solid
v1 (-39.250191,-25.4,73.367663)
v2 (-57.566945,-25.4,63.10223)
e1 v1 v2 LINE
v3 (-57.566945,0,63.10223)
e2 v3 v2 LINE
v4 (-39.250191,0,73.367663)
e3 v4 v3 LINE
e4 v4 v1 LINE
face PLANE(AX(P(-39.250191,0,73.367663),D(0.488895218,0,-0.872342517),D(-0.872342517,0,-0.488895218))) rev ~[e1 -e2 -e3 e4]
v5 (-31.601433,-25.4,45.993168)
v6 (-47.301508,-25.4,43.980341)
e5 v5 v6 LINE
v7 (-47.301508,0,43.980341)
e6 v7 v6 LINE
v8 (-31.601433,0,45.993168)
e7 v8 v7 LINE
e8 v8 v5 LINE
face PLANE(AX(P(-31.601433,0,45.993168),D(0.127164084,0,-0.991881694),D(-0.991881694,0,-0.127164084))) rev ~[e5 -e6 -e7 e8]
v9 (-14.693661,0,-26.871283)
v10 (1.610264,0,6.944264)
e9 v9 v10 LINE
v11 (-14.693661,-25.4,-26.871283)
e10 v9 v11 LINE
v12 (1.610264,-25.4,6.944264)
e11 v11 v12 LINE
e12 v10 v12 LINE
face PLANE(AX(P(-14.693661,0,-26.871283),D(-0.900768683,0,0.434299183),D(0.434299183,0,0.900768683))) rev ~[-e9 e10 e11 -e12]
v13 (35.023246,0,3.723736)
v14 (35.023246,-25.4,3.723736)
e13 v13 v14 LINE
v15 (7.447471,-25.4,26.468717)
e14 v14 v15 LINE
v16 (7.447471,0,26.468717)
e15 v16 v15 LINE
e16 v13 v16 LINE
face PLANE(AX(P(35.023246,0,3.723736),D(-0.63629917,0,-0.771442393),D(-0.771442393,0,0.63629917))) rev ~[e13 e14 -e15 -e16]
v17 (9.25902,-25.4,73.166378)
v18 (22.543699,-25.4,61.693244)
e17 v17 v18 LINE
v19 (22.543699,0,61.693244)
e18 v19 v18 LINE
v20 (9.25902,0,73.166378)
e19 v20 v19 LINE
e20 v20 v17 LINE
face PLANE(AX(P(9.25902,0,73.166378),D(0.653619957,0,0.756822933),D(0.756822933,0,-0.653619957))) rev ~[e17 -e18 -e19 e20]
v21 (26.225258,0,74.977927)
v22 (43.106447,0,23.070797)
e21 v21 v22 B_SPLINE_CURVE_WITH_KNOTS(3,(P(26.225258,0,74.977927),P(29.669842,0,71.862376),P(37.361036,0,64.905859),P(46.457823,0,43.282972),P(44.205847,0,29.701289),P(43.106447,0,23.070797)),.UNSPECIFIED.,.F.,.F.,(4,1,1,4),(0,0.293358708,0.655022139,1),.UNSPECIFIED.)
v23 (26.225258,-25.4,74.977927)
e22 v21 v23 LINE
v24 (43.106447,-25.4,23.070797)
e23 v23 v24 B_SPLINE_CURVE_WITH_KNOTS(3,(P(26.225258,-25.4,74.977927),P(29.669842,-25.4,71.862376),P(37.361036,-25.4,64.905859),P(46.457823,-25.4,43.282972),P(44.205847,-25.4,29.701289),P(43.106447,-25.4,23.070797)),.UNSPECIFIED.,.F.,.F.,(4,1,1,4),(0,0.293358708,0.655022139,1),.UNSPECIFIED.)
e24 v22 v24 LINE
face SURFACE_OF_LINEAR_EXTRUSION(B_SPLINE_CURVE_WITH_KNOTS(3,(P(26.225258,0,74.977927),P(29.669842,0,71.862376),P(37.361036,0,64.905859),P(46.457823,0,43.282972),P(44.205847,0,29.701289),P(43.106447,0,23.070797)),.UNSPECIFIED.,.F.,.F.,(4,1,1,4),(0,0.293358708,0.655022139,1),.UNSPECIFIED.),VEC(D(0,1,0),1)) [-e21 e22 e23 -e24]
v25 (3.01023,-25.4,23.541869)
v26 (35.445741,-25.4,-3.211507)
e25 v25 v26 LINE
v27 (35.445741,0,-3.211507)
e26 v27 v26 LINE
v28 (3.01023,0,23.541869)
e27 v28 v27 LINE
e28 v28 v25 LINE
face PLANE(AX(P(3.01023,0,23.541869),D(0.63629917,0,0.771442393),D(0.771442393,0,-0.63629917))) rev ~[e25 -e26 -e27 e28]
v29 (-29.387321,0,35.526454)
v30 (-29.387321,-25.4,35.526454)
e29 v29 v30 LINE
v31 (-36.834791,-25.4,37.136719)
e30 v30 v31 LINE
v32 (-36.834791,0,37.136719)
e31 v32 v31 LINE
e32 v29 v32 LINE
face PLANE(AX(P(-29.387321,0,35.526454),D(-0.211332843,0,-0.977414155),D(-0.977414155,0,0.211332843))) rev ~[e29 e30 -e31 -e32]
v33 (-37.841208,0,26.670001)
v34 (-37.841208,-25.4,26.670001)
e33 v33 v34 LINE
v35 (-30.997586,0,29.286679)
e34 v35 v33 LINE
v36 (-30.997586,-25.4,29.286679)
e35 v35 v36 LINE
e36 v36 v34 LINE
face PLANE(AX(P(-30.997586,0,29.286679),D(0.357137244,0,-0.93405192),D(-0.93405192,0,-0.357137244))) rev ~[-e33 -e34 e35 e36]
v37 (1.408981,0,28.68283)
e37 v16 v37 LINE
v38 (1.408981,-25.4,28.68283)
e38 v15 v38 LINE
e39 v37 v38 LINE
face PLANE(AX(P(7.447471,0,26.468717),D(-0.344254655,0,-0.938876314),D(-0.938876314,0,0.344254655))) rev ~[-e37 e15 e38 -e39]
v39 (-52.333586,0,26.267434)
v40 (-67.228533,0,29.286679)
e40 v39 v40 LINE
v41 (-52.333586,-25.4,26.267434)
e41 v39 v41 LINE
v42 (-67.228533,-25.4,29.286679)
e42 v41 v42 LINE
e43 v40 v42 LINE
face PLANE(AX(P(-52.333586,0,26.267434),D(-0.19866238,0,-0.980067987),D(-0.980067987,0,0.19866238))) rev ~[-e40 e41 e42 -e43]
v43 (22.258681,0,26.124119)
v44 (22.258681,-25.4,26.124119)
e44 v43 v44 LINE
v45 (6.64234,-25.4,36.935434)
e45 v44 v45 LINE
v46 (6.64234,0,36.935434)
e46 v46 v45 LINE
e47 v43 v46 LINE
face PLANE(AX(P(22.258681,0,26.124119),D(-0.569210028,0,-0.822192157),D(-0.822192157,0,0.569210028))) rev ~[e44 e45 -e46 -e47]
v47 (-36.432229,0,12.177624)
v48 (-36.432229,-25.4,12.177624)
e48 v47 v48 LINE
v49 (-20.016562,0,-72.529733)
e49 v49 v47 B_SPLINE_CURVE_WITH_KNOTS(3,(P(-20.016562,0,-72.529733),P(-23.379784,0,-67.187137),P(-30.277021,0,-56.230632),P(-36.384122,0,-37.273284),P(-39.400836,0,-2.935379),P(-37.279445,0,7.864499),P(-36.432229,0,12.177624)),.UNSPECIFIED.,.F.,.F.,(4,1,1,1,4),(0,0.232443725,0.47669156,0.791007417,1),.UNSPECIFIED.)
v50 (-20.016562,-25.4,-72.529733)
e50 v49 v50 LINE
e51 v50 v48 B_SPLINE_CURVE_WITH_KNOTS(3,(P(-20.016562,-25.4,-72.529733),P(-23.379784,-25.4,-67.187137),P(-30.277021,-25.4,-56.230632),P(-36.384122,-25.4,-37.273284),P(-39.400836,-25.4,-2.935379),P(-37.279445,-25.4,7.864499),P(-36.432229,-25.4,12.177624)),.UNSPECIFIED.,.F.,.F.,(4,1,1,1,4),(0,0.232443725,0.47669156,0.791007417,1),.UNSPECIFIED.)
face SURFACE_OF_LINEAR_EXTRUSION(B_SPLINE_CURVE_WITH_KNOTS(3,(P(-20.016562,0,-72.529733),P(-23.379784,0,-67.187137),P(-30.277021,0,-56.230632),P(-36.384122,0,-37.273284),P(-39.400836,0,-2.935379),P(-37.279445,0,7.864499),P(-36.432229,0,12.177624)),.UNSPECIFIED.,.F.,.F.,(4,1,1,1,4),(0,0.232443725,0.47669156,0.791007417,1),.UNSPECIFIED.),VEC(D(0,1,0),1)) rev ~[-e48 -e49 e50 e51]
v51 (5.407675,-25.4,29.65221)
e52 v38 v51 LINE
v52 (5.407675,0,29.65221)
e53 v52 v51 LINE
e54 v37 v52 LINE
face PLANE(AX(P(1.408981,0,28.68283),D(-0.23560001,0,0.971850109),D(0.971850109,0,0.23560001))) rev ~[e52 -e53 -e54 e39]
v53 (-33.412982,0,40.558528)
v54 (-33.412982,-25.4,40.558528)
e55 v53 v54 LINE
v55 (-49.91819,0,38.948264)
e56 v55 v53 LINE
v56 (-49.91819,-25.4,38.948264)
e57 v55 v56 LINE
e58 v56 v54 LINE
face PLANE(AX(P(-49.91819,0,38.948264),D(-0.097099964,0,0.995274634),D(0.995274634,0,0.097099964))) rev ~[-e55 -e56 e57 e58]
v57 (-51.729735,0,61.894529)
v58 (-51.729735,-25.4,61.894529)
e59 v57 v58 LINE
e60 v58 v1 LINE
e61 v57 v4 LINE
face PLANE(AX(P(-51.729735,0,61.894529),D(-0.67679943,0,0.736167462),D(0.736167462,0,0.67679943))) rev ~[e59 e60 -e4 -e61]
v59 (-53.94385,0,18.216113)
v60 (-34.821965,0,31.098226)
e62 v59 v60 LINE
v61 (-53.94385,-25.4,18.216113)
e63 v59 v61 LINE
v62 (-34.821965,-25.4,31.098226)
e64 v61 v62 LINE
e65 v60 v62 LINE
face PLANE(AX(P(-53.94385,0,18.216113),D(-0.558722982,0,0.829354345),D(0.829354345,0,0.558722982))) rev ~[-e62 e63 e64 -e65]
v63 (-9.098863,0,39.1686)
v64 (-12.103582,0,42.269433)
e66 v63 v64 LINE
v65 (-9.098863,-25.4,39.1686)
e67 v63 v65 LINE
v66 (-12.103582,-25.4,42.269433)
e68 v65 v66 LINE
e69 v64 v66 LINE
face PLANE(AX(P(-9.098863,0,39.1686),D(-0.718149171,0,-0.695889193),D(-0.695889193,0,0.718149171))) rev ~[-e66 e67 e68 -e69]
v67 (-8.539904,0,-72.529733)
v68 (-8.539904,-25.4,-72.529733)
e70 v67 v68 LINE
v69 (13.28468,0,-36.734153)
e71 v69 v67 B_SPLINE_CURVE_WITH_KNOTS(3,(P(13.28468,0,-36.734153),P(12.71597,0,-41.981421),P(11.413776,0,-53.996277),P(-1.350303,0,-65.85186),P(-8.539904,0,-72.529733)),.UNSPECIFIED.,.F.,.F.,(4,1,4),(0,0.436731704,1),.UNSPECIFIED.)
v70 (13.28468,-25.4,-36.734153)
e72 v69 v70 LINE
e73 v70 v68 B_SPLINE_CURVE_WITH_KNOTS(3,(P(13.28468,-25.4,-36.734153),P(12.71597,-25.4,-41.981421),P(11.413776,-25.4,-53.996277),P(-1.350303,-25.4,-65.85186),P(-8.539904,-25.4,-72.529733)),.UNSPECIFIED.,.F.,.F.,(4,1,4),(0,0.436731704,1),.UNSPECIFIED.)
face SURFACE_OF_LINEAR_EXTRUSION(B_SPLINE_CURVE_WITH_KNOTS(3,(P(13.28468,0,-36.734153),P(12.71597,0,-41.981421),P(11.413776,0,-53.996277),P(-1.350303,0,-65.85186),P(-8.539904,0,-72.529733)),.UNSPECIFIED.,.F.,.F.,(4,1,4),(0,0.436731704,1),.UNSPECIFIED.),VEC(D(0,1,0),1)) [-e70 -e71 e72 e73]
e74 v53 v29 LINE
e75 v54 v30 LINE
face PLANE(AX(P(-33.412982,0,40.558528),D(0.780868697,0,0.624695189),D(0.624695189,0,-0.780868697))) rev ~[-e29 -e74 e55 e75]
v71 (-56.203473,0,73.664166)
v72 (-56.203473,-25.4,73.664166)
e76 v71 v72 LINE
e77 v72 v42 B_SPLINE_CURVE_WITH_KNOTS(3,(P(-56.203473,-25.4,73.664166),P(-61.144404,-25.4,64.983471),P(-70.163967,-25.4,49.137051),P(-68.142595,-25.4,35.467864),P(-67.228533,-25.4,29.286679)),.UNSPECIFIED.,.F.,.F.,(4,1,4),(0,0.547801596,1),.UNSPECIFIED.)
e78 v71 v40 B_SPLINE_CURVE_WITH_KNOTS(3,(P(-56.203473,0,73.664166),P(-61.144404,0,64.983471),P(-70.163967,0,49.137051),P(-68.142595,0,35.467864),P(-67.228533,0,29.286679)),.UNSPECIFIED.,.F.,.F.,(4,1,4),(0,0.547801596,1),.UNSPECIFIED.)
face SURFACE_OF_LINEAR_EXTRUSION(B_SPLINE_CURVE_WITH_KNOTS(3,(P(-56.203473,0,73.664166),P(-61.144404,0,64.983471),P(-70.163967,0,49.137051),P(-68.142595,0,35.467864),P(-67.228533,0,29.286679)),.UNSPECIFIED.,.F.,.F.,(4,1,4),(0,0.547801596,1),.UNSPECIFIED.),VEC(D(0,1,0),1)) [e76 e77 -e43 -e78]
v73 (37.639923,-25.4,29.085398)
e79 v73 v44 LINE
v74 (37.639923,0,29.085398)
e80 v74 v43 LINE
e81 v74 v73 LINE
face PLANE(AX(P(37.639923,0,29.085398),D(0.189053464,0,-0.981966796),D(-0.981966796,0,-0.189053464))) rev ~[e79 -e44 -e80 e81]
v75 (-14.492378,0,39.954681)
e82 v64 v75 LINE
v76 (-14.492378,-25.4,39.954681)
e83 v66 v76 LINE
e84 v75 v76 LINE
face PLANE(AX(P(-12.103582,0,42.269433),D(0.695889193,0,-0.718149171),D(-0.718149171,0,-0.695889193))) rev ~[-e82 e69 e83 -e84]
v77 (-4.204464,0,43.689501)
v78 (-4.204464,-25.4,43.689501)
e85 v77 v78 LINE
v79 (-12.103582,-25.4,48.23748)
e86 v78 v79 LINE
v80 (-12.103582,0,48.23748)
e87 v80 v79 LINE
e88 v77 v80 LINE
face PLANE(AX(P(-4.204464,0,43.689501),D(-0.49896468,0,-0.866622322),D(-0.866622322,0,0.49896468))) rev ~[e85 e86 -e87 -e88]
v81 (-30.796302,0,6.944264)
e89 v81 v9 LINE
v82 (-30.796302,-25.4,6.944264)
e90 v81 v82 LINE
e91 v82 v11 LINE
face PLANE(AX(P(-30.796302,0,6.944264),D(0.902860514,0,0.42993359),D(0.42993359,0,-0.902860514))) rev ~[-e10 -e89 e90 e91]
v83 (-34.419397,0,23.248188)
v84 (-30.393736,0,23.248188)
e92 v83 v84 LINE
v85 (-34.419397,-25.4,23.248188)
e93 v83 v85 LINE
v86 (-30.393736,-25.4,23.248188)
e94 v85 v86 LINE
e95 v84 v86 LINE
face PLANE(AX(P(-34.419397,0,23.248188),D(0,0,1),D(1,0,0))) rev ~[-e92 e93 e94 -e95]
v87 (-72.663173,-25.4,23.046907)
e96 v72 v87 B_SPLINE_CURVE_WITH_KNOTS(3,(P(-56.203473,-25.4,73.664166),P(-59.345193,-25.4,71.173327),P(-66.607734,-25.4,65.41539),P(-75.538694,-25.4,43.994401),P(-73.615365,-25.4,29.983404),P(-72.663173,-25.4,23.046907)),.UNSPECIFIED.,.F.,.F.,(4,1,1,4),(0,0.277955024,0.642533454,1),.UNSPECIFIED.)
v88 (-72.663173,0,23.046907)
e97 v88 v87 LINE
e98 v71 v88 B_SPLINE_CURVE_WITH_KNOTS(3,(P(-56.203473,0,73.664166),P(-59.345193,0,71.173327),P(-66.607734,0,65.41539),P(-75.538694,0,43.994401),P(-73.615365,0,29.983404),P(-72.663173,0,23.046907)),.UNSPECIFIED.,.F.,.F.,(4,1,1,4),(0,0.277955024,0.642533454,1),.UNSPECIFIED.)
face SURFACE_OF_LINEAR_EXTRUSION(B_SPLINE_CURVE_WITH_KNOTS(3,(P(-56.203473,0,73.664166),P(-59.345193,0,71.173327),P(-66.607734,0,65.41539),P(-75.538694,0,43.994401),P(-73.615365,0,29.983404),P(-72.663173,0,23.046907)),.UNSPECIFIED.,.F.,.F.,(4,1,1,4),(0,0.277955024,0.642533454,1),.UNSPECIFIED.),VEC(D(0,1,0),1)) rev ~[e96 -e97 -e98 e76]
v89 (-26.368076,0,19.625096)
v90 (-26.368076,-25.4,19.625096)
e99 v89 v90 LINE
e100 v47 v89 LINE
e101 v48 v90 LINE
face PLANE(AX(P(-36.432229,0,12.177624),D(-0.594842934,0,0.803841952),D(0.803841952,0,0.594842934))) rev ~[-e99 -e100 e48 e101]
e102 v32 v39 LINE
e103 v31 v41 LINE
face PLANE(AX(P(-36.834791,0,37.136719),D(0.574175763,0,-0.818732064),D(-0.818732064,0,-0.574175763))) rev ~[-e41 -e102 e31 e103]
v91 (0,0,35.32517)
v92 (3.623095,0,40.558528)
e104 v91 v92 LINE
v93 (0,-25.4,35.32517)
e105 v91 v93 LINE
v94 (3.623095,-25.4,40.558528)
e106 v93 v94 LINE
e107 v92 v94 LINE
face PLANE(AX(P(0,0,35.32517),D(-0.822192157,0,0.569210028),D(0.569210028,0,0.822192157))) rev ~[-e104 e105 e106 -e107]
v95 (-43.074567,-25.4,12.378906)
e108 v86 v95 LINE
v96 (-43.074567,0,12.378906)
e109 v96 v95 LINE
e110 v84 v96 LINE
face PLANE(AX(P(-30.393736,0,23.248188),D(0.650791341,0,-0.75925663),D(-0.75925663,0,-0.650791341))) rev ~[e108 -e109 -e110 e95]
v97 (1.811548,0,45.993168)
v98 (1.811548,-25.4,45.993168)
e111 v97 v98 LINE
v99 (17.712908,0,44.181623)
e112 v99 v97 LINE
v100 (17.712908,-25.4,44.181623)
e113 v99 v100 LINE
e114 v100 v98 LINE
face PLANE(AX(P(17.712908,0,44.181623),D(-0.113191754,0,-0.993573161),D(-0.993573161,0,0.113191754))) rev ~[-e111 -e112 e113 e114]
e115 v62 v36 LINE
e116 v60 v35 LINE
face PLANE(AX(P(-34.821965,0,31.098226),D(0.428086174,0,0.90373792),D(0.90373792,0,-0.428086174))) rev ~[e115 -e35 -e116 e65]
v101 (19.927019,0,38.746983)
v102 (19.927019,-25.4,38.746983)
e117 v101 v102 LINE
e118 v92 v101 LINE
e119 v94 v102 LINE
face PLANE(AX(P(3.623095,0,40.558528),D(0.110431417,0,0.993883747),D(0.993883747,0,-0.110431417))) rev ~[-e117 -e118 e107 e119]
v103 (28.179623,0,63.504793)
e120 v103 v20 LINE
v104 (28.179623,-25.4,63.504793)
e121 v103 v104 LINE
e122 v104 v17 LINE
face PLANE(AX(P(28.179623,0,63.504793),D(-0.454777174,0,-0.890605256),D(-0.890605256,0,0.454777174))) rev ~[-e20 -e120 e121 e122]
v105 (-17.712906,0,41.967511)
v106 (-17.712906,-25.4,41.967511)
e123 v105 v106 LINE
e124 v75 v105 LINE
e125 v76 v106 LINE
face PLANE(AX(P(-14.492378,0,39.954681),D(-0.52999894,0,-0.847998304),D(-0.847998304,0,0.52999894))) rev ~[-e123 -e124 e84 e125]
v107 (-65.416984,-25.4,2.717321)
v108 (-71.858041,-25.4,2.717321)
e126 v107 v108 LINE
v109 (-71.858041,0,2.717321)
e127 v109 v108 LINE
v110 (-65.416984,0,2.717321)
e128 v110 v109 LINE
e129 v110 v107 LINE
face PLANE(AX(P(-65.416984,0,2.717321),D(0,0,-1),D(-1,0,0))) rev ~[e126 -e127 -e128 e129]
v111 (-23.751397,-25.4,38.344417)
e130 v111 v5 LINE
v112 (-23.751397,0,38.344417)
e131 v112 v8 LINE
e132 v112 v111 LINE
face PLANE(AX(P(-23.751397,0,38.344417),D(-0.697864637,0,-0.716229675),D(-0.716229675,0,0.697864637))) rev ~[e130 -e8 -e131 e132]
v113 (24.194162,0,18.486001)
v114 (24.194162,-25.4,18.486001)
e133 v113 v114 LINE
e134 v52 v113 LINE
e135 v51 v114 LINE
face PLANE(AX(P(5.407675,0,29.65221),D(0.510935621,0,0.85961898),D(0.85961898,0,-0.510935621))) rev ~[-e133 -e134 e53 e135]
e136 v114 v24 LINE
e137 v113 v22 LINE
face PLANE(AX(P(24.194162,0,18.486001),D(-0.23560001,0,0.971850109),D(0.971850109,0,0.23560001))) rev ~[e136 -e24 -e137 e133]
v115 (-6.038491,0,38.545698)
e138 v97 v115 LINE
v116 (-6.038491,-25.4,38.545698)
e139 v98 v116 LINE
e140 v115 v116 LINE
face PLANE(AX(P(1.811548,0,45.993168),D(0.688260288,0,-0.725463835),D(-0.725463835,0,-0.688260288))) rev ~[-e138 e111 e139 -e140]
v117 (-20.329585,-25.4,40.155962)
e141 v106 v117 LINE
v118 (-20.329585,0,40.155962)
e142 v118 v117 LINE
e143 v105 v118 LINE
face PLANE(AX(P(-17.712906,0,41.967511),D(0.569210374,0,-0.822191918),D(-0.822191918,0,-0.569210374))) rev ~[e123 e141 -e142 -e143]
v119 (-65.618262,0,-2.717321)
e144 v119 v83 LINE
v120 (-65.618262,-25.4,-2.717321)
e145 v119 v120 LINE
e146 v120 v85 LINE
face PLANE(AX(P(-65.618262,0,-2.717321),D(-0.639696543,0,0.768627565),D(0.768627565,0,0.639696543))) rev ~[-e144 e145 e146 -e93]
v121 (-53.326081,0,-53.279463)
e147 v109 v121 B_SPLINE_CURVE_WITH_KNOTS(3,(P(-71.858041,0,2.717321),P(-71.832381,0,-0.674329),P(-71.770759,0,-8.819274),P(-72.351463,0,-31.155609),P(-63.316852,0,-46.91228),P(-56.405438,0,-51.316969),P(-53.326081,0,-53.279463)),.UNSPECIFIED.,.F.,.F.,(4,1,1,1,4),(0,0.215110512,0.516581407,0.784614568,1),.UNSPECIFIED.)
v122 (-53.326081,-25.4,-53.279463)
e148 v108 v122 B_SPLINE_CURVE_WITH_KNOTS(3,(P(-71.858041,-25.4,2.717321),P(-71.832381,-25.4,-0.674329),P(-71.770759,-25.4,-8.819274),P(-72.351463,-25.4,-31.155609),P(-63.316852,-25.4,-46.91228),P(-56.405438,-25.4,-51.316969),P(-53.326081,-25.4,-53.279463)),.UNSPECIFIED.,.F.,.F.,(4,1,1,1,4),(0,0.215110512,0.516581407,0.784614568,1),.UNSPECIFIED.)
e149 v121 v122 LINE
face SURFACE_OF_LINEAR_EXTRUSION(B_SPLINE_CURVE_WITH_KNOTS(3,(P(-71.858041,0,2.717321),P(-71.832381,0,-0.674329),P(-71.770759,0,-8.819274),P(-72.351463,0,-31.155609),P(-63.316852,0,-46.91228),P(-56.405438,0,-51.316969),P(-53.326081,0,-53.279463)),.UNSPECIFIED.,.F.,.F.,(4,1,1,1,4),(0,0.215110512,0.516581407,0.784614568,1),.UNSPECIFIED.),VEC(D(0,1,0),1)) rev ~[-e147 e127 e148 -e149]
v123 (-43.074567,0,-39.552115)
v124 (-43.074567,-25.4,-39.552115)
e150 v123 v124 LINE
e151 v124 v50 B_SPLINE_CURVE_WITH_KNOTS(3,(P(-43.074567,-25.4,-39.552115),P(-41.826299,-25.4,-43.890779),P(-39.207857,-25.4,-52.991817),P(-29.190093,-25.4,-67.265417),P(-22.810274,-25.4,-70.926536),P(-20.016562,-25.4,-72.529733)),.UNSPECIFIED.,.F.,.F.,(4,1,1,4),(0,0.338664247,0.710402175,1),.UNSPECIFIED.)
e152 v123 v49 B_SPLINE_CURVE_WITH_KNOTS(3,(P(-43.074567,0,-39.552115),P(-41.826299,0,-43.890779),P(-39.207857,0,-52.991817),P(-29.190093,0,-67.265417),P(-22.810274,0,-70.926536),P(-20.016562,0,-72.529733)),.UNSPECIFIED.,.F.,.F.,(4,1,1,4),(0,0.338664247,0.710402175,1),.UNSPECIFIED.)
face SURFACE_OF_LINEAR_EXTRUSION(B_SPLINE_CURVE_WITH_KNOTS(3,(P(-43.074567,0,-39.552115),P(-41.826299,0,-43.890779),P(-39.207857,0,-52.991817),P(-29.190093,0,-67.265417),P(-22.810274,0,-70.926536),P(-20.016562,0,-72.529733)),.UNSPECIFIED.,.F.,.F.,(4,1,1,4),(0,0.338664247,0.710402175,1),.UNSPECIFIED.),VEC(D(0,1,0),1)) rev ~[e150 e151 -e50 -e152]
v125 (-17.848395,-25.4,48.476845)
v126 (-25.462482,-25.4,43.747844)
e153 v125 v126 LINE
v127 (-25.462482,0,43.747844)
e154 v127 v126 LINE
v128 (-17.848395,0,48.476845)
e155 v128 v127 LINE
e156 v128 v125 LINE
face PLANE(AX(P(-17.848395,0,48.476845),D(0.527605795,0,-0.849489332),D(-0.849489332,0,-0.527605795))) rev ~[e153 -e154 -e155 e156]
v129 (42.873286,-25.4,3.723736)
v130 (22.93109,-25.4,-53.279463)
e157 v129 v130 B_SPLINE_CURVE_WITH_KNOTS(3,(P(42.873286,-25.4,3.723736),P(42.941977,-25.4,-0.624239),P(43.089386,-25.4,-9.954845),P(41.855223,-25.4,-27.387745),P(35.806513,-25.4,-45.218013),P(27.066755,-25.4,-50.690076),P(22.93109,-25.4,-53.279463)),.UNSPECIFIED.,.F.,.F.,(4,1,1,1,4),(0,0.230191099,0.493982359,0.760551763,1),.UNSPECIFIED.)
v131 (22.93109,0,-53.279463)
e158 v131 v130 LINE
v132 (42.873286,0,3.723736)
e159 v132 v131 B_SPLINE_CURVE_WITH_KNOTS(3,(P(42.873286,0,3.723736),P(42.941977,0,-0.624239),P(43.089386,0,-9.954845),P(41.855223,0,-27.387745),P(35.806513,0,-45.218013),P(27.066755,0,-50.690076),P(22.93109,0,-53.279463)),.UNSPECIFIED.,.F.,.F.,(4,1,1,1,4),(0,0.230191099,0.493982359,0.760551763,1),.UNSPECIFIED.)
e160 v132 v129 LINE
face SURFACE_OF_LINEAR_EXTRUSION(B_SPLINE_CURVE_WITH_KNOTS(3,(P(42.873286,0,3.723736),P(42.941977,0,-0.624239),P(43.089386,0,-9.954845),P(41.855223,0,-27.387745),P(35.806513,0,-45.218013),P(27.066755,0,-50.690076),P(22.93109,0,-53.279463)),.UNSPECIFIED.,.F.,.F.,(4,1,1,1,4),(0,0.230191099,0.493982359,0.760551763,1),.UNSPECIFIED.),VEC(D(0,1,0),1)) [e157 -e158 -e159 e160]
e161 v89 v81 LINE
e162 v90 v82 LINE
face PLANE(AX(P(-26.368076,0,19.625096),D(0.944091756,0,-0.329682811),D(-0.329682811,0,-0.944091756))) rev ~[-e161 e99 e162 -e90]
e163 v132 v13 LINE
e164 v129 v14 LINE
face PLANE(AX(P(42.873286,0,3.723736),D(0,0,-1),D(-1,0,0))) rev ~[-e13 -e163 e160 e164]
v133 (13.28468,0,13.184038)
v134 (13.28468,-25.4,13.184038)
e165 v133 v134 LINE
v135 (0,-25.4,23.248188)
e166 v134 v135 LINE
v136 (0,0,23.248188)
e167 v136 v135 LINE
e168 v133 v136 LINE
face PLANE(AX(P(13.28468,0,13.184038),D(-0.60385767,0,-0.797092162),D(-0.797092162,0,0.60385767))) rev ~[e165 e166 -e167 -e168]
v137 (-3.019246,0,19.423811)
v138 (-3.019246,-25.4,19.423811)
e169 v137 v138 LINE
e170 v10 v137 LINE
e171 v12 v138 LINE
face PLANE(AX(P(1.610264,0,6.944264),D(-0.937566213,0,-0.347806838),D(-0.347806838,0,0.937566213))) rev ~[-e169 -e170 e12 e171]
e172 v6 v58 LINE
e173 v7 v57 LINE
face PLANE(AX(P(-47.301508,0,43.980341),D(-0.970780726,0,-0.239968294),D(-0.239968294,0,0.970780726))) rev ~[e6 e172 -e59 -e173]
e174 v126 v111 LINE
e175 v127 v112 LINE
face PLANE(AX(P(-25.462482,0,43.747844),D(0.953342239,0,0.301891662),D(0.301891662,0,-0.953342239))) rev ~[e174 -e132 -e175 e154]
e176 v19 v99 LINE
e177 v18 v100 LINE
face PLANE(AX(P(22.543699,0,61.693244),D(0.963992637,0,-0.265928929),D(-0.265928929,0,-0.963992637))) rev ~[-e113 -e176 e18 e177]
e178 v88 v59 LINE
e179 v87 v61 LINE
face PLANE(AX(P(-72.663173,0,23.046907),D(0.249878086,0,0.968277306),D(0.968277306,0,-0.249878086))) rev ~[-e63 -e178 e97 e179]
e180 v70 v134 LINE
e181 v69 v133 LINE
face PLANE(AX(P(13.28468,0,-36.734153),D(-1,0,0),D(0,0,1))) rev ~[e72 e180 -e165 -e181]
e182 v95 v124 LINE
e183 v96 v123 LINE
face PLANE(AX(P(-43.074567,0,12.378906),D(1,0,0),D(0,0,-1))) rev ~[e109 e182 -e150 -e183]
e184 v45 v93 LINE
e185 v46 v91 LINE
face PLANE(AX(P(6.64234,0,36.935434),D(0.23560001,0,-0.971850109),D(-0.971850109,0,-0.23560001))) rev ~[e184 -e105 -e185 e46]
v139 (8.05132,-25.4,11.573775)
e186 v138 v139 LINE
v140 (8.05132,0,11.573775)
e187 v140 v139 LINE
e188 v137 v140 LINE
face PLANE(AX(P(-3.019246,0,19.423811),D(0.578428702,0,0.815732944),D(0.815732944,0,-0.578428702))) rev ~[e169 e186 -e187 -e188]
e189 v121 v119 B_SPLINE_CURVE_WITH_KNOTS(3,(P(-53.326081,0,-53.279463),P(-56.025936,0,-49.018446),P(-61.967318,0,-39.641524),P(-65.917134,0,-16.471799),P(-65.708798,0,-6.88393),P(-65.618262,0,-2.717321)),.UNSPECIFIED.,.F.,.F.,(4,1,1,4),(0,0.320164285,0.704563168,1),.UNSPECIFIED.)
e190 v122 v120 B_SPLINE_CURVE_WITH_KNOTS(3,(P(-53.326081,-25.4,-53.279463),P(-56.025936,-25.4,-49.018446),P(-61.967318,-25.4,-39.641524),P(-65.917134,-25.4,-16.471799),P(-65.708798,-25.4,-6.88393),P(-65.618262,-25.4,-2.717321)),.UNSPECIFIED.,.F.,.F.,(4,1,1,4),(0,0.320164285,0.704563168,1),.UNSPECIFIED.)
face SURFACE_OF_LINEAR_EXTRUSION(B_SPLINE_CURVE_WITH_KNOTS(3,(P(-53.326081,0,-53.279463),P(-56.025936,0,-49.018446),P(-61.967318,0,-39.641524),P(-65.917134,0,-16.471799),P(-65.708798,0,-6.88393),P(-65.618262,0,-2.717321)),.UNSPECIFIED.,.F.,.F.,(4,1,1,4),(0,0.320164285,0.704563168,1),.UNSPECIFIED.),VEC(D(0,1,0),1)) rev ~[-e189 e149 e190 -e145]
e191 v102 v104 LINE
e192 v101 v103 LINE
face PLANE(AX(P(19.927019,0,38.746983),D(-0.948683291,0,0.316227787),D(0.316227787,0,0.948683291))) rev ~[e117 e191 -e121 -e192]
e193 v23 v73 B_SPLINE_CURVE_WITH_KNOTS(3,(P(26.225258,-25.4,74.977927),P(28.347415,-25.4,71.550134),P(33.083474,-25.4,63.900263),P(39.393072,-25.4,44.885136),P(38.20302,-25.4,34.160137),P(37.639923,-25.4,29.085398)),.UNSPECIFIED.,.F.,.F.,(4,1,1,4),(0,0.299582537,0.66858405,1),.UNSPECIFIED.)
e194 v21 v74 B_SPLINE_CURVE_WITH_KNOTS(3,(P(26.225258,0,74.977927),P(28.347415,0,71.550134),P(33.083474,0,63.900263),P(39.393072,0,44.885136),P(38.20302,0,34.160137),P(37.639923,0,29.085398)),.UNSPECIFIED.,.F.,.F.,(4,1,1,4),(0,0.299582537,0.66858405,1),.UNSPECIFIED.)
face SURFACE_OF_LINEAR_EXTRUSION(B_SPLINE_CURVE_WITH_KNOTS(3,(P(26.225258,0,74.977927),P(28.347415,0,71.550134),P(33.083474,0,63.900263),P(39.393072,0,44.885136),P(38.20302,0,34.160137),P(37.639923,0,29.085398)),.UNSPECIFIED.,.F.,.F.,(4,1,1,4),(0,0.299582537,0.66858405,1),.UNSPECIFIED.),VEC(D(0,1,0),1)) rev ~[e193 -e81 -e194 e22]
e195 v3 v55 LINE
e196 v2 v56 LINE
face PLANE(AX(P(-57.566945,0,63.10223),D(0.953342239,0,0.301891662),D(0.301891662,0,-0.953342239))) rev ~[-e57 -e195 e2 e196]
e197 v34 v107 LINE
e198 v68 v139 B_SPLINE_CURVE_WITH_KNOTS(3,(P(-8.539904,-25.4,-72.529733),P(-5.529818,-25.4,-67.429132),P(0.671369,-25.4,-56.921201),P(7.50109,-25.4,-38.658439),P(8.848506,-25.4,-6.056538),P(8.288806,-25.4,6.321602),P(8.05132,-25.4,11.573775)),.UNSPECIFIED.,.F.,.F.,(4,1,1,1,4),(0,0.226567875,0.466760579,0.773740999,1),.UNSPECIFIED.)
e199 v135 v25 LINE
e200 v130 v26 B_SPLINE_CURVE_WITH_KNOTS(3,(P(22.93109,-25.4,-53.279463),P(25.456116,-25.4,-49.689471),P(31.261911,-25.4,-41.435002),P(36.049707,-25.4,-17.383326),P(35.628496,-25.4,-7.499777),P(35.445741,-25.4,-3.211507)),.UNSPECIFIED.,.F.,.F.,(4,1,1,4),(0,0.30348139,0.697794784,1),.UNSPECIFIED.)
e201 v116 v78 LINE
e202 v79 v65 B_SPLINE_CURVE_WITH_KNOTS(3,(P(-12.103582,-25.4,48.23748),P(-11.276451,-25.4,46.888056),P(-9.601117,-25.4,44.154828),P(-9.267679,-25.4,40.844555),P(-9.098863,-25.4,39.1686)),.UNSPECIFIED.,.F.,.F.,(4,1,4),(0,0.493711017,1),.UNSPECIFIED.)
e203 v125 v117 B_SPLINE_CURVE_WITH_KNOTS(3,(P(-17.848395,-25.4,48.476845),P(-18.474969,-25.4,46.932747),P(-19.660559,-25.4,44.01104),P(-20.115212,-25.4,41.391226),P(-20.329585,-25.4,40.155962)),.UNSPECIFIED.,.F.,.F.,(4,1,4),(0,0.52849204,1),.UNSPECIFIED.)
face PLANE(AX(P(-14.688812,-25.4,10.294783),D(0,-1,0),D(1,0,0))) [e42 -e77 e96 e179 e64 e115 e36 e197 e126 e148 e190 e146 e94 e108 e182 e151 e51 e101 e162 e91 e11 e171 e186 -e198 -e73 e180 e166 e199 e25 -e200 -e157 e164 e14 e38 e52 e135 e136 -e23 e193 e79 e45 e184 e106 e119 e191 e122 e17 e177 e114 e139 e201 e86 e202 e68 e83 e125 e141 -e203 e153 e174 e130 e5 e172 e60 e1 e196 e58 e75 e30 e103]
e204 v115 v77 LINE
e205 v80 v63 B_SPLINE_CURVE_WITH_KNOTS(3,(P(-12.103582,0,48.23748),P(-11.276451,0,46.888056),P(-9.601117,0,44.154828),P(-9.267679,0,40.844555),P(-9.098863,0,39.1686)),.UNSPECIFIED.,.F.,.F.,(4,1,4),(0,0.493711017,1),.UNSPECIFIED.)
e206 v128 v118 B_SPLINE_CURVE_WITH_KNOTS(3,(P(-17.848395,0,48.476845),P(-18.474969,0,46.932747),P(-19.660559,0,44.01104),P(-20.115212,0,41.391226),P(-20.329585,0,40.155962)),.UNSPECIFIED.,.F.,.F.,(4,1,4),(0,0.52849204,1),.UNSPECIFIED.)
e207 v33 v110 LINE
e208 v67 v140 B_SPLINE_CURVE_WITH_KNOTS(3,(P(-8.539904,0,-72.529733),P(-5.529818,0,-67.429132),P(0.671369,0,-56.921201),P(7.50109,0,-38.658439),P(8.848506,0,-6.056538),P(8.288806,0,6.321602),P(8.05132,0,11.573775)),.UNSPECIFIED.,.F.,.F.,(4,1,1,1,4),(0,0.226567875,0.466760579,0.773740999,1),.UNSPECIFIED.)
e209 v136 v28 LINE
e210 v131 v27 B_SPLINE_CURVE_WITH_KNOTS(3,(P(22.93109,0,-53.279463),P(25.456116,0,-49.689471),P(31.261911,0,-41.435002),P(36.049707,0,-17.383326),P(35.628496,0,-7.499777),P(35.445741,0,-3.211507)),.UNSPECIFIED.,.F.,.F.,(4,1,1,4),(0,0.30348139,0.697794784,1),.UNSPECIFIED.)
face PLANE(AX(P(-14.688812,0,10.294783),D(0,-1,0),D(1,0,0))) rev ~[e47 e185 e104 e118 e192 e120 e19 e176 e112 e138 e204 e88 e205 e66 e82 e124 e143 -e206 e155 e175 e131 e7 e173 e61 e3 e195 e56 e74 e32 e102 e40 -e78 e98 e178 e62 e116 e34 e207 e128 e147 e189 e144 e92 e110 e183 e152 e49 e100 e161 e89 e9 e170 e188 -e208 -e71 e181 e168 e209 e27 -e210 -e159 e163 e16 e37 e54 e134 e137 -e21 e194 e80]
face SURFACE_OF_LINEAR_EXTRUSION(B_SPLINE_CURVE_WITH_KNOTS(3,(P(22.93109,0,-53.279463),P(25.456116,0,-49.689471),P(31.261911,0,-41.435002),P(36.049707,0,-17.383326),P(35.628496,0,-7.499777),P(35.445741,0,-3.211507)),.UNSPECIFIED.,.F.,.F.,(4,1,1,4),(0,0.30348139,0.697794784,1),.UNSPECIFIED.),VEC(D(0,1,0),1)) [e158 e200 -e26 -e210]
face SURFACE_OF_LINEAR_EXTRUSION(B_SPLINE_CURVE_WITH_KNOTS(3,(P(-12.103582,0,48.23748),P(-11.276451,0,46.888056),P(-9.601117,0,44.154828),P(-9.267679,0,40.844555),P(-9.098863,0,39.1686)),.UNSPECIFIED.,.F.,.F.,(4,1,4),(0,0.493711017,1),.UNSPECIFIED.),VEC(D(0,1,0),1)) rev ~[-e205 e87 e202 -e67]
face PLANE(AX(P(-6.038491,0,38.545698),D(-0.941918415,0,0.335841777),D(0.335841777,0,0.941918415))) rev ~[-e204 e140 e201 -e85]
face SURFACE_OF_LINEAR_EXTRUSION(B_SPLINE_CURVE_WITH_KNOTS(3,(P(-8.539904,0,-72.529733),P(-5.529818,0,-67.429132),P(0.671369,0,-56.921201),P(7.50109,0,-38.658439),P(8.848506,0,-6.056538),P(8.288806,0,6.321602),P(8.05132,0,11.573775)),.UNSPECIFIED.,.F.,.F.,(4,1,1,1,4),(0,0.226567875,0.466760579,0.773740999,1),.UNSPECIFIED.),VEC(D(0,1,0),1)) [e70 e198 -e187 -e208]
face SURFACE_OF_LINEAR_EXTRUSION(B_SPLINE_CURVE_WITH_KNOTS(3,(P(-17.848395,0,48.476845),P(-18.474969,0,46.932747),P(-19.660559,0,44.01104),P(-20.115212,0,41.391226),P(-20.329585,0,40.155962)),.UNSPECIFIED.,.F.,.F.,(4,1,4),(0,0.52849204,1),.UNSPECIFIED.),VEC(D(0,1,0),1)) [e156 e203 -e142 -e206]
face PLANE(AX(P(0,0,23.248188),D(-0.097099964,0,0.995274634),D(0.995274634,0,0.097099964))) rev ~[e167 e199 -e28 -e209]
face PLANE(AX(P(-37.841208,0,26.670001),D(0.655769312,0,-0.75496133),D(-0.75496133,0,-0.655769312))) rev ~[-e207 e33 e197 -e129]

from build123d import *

# Parameters (mm, degrees)
F1_DEPTH = 25.4


with BuildPart() as f1:
    # F0 (on Front) → F1 (new body)
    with BuildSketch(Plane.XZ):
        with BuildLine():
            Line((-36.4322289824, 12.1776238084), (-26.3680759817, 19.6250956506))
            Line((-26.3680759817, 19.6250956506), (-30.7963024825, 6.9442642853))
            Line((-30.7963024825, 6.9442642853), (-14.6936606616, -26.8712826073))
            Line((-14.6936606616, -26.8712826073), (1.6102636, 6.9442642853))
            Line((1.6102636, 6.9442642853), (-3.0192458071, 19.4238107651))
            Line((-3.0192458071, 19.4238107651), (8.0513199791, 11.5737747401))
            add(Edge.make_bspline(
                [(-8.539903909, -72.529733181), (-5.5298175025, -67.4291319873), (0.671369104, -56.9212011388), (7.5010896056, -38.6584394427), (8.8485062582, -6.0565384462), (8.2888064124, 6.3216018094), (8.0513199791, 11.5737747401)],
                knots=[0, 0, 0, 0, 0.2265678753, 0.466760579, 0.7737409987, 1, 1, 1, 1], degree=3))
            add(Edge.make_bspline(
                [(13.2846795022, -36.7341525853), (12.7159700105, -41.9814211739), (11.4137758116, -53.9962772925), (-1.3503029933, -65.8518595611), (-8.539903909, -72.529733181)],
                knots=[0, 0, 0, 0, 0.4367317042, 1, 1, 1, 1], degree=3))
            Line((13.2846795022, -36.7341525853), (13.2846795022, 13.1840375252))
            Line((13.2846795022, 13.1840375252), (0, 23.2481881976))
            Line((0, 23.2481881976), (3.0102304372, 23.5418692159))
            Line((3.0102304372, 23.5418692159), (35.4457411612, -3.2115069692))
            add(Edge.make_bspline(
                [(22.9310896248, -53.2794632018), (25.4561163969, -49.6894712594), (31.2619106567, -41.435002498), (36.0497072594, -17.3833263421), (35.6284960933, -7.4997772809), (35.4457411612, -3.2115069692)],
                knots=[0, 0, 0, 0, 0.3034813899, 0.6977947842, 1, 1, 1, 1], degree=3))
            add(Edge.make_bspline(
                [(42.8732857108, 3.7237356883), (42.9419768966, -0.6242385053), (43.089385872, -9.9548449559), (41.8552231799, -27.387745044), (35.8065129434, -45.2180128452), (27.0667549953, -50.6900756336), (22.9310896248, -53.2794632018)],
                knots=[0, 0, 0, 0, 0.2301910986, 0.4939823591, 0.7605517628, 1, 1, 1, 1], degree=3))
            Line((42.8732857108, 3.7237356883), (35.0232459605, 3.7237356883))
            Line((35.0232459605, 3.7237356883), (7.4474713765, 26.4687165618))
            Line((7.4474713765, 26.4687165618), (1.4089808101, 28.6828298122))
            Line((1.4089808101, 28.6828298122), (5.4076748606, 29.6522101201))
            Line((5.4076748606, 29.6522101201), (24.194162339, 18.4860005975))
            Line((24.194162339, 18.4860005975), (43.106447074, 23.0707965754))
            add(Edge.make_bspline(
                [(26.2252576649, 74.9779269099), (29.6698417944, 71.8623759308), (37.3610362325, 64.9058588415), (46.4578230677, 43.2829715579), (44.2058474785, 29.7012890641), (43.106447074, 23.0707965754)],
                knots=[0, 0, 0, 0, 0.293358708, 0.6550221388, 1, 1, 1, 1], degree=3))
            add(Edge.make_bspline(
                [(26.2252576649, 74.9779269099), (28.3474149897, 71.5501339246), (33.0834738819, 63.9002630792), (39.3930720831, 44.8851357539), (38.203019559, 34.160136648), (37.6399233937, 29.0853977203)],
                knots=[0, 0, 0, 0, 0.2995825373, 0.6685840504, 1, 1, 1, 1], degree=3))
            Line((37.6399233937, 29.0853977203), (22.2586813173, 26.1241192863))
            Line((22.2586813173, 26.1241192863), (6.6423402168, 36.9354337454))
            Line((6.6423402168, 36.9354337454), (0, 35.3251695633))
            Line((0, 35.3251695633), (3.6230948754, 40.5585281551))
            Line((3.6230948754, 40.5585281551), (19.9270192534, 38.7469828129))
            Line((19.9270192534, 38.7469828129), (28.1796231866, 63.5047927499))
            Line((28.1796231866, 63.5047927499), (9.2590199783, 73.1663778424))
            Line((9.2590199783, 73.1663778424), (22.5436985493, 61.6932436824))
            Line((22.5436985493, 61.6932436824), (17.7129078656, 44.1816225648))
            Line((17.7129078656, 44.1816225648), (1.8115479033, 45.993167907))
            Line((1.8115479033, 45.993167907), (-6.0384911485, 38.5456979275))
            Line((-6.0384911485, 38.5456979275), (-4.204464145, 43.6895005405))
            Line((-4.204464145, 43.6895005405), (-12.1035818011, 48.2374802232))
            add(Edge.make_bspline(
                [(-12.1035818011, 48.2374802232), (-11.2764509271, 46.8880557358), (-9.6011168855, 44.1548283208), (-9.2676791017, 40.8445549043), (-9.0988632253, 39.1685999437)],
                knots=[0, 0, 0, 0, 0.4937110172, 1, 1, 1, 1], degree=3))
            Line((-9.0988632253, 39.1685999437), (-12.1035818011, 42.2694329172))
            Line((-12.1035818011, 42.2694329172), (-14.4923776388, 39.9546809494))
            Line((-14.4923776388, 39.9546809494), (-17.712906003, 41.9675111771))
            Line((-17.712906003, 41.9675111771), (-20.3295852989, 40.1559621096))
            add(Edge.make_bspline(
                [(-17.8483948112, 48.476845026), (-18.4749692932, 46.9327465619), (-19.6605585437, 44.0110403751), (-20.115212391, 41.3912256195), (-20.3295852989, 40.1559621096)],
                knots=[0, 0, 0, 0, 0.5284920404, 1, 1, 1, 1], degree=3))
            Line((-17.8483948112, 48.476845026), (-25.4624815705, 43.7478435523))
            Line((-25.4624815705, 43.7478435523), (-23.7513966858, 38.3444167674))
            Line((-23.7513966858, 38.3444167674), (-31.6014327109, 45.993167907))
            Line((-31.6014327109, 45.993167907), (-47.3015084863, 43.9803414047))
            Line((-47.3015084863, 43.9803414047), (-51.729734987, 61.8945285678))
            Line((-51.729734987, 61.8945285678), (-39.2501913011, 73.3676627278))
            Line((-39.2501913011, 73.3676627278), (-57.5669445097, 63.1022304296))
            Line((-57.5669445097, 63.1022304296), (-49.9181896448, 38.948263973))
            Line((-49.9181896448, 38.948263973), (-33.4129817784, 40.5585281551))
            Line((-33.4129817784, 40.5585281551), (-29.3873213232, 35.5264544487))
            Line((-29.3873213232, 35.5264544487), (-36.8347913027, 37.1367186308))
            Line((-36.8347913027, 37.1367186308), (-52.3335859179, 26.267433539))
            Line((-52.3335859179, 26.267433539), (-67.2285333276, 29.2866788805))
            add(Edge.make_bspline(
                [(-56.2034733593, 73.6641660333), (-61.1444043649, 64.9834714788), (-70.1639673597, 49.1370507769), (-68.1425947811, 35.4678635333), (-67.2285333276, 29.2866788805)],
                knots=[0, 0, 0, 0, 0.5478015962, 1, 1, 1, 1], degree=3))
            add(Edge.make_bspline(
                [(-56.2034733593, 73.6641660333), (-59.3451927185, 71.1733267977), (-66.60773384, 65.4153897232), (-75.5386939948, 43.9944008325), (-73.6153653527, 29.9834038748), (-72.6631730795, 23.0469070375)],
                knots=[0, 0, 0, 0, 0.2779550238, 0.6425334536, 1, 1, 1, 1], degree=3))
            Line((-72.6631730795, 23.0469070375), (-53.9438501, 18.2161126286))
            Line((-53.9438501, 18.2161126286), (-34.8219648004, 31.0982260853))
            Line((-34.8219648004, 31.0982260853), (-30.9975855052, 29.2866788805))
            Line((-30.9975855052, 29.2866788805), (-37.8412082791, 26.6700014472))
            Line((-37.8412082791, 26.6700014472), (-65.4169842601, 2.7173208073))
            Line((-65.4169842601, 2.7173208073), (-71.8580409884, 2.7173208073))
            add(Edge.make_bspline(
                [(-71.8580409884, 2.7173208073), (-71.8323808051, -0.6743290469), (-71.7707586489, -8.819273873), (-72.3514628162, -31.1556090613), (-63.3168519567, -46.9122797723), (-56.4054375512, -51.3169694206), (-53.3260814846, -53.2794632018)],
                knots=[0, 0, 0, 0, 0.2151105122, 0.5165814068, 0.784614568, 1, 1, 1, 1], degree=3))
            add(Edge.make_bspline(
                [(-53.3260814846, -53.2794632018), (-56.0259363166, -49.0184463117), (-61.9673181702, -39.6415242162), (-65.9171343123, -16.4717993255), (-65.7087984168, -6.8839300031), (-65.6182616949, -2.7173208073)],
                knots=[0, 0, 0, 0, 0.3201642849, 0.7045631676, 1, 1, 1, 1], degree=3))
            Line((-65.6182616949, -2.7173208073), (-34.4193968922, 23.2481881976))
            Line((-34.4193968922, 23.2481881976), (-30.393736437, 23.2481881976))
            Line((-30.393736437, 23.2481881976), (-43.0745668709, 12.3789058998))
            Line((-43.0745668709, 12.3789058998), (-43.0745668709, -39.5521149039))
            add(Edge.make_bspline(
                [(-43.0745668709, -39.5521149039), (-41.8262985236, -43.8907788266), (-39.2078569373, -52.9918171315), (-29.1900934235, -67.2654171685), (-22.8102743449, -70.9265355416), (-20.0165621936, -72.529733181)],
                knots=[0, 0, 0, 0, 0.3386642474, 0.7104021751, 1, 1, 1, 1], degree=3))
            add(Edge.make_bspline(
                [(-20.0165621936, -72.529733181), (-23.3797839012, -67.1871365793), (-30.2770206692, -56.2306320954), (-36.3841217142, -37.273284048), (-39.4008360571, -2.9353787105), (-37.2794445977, 7.8644993682), (-36.4322289824, 12.1776238084)],
                knots=[0, 0, 0, 0, 0.2324437246, 0.4766915604, 0.7910074166, 1, 1, 1, 1], degree=3))
        make_face()
    extrude(amount=F1_DEPTH)


solid = f1.part
